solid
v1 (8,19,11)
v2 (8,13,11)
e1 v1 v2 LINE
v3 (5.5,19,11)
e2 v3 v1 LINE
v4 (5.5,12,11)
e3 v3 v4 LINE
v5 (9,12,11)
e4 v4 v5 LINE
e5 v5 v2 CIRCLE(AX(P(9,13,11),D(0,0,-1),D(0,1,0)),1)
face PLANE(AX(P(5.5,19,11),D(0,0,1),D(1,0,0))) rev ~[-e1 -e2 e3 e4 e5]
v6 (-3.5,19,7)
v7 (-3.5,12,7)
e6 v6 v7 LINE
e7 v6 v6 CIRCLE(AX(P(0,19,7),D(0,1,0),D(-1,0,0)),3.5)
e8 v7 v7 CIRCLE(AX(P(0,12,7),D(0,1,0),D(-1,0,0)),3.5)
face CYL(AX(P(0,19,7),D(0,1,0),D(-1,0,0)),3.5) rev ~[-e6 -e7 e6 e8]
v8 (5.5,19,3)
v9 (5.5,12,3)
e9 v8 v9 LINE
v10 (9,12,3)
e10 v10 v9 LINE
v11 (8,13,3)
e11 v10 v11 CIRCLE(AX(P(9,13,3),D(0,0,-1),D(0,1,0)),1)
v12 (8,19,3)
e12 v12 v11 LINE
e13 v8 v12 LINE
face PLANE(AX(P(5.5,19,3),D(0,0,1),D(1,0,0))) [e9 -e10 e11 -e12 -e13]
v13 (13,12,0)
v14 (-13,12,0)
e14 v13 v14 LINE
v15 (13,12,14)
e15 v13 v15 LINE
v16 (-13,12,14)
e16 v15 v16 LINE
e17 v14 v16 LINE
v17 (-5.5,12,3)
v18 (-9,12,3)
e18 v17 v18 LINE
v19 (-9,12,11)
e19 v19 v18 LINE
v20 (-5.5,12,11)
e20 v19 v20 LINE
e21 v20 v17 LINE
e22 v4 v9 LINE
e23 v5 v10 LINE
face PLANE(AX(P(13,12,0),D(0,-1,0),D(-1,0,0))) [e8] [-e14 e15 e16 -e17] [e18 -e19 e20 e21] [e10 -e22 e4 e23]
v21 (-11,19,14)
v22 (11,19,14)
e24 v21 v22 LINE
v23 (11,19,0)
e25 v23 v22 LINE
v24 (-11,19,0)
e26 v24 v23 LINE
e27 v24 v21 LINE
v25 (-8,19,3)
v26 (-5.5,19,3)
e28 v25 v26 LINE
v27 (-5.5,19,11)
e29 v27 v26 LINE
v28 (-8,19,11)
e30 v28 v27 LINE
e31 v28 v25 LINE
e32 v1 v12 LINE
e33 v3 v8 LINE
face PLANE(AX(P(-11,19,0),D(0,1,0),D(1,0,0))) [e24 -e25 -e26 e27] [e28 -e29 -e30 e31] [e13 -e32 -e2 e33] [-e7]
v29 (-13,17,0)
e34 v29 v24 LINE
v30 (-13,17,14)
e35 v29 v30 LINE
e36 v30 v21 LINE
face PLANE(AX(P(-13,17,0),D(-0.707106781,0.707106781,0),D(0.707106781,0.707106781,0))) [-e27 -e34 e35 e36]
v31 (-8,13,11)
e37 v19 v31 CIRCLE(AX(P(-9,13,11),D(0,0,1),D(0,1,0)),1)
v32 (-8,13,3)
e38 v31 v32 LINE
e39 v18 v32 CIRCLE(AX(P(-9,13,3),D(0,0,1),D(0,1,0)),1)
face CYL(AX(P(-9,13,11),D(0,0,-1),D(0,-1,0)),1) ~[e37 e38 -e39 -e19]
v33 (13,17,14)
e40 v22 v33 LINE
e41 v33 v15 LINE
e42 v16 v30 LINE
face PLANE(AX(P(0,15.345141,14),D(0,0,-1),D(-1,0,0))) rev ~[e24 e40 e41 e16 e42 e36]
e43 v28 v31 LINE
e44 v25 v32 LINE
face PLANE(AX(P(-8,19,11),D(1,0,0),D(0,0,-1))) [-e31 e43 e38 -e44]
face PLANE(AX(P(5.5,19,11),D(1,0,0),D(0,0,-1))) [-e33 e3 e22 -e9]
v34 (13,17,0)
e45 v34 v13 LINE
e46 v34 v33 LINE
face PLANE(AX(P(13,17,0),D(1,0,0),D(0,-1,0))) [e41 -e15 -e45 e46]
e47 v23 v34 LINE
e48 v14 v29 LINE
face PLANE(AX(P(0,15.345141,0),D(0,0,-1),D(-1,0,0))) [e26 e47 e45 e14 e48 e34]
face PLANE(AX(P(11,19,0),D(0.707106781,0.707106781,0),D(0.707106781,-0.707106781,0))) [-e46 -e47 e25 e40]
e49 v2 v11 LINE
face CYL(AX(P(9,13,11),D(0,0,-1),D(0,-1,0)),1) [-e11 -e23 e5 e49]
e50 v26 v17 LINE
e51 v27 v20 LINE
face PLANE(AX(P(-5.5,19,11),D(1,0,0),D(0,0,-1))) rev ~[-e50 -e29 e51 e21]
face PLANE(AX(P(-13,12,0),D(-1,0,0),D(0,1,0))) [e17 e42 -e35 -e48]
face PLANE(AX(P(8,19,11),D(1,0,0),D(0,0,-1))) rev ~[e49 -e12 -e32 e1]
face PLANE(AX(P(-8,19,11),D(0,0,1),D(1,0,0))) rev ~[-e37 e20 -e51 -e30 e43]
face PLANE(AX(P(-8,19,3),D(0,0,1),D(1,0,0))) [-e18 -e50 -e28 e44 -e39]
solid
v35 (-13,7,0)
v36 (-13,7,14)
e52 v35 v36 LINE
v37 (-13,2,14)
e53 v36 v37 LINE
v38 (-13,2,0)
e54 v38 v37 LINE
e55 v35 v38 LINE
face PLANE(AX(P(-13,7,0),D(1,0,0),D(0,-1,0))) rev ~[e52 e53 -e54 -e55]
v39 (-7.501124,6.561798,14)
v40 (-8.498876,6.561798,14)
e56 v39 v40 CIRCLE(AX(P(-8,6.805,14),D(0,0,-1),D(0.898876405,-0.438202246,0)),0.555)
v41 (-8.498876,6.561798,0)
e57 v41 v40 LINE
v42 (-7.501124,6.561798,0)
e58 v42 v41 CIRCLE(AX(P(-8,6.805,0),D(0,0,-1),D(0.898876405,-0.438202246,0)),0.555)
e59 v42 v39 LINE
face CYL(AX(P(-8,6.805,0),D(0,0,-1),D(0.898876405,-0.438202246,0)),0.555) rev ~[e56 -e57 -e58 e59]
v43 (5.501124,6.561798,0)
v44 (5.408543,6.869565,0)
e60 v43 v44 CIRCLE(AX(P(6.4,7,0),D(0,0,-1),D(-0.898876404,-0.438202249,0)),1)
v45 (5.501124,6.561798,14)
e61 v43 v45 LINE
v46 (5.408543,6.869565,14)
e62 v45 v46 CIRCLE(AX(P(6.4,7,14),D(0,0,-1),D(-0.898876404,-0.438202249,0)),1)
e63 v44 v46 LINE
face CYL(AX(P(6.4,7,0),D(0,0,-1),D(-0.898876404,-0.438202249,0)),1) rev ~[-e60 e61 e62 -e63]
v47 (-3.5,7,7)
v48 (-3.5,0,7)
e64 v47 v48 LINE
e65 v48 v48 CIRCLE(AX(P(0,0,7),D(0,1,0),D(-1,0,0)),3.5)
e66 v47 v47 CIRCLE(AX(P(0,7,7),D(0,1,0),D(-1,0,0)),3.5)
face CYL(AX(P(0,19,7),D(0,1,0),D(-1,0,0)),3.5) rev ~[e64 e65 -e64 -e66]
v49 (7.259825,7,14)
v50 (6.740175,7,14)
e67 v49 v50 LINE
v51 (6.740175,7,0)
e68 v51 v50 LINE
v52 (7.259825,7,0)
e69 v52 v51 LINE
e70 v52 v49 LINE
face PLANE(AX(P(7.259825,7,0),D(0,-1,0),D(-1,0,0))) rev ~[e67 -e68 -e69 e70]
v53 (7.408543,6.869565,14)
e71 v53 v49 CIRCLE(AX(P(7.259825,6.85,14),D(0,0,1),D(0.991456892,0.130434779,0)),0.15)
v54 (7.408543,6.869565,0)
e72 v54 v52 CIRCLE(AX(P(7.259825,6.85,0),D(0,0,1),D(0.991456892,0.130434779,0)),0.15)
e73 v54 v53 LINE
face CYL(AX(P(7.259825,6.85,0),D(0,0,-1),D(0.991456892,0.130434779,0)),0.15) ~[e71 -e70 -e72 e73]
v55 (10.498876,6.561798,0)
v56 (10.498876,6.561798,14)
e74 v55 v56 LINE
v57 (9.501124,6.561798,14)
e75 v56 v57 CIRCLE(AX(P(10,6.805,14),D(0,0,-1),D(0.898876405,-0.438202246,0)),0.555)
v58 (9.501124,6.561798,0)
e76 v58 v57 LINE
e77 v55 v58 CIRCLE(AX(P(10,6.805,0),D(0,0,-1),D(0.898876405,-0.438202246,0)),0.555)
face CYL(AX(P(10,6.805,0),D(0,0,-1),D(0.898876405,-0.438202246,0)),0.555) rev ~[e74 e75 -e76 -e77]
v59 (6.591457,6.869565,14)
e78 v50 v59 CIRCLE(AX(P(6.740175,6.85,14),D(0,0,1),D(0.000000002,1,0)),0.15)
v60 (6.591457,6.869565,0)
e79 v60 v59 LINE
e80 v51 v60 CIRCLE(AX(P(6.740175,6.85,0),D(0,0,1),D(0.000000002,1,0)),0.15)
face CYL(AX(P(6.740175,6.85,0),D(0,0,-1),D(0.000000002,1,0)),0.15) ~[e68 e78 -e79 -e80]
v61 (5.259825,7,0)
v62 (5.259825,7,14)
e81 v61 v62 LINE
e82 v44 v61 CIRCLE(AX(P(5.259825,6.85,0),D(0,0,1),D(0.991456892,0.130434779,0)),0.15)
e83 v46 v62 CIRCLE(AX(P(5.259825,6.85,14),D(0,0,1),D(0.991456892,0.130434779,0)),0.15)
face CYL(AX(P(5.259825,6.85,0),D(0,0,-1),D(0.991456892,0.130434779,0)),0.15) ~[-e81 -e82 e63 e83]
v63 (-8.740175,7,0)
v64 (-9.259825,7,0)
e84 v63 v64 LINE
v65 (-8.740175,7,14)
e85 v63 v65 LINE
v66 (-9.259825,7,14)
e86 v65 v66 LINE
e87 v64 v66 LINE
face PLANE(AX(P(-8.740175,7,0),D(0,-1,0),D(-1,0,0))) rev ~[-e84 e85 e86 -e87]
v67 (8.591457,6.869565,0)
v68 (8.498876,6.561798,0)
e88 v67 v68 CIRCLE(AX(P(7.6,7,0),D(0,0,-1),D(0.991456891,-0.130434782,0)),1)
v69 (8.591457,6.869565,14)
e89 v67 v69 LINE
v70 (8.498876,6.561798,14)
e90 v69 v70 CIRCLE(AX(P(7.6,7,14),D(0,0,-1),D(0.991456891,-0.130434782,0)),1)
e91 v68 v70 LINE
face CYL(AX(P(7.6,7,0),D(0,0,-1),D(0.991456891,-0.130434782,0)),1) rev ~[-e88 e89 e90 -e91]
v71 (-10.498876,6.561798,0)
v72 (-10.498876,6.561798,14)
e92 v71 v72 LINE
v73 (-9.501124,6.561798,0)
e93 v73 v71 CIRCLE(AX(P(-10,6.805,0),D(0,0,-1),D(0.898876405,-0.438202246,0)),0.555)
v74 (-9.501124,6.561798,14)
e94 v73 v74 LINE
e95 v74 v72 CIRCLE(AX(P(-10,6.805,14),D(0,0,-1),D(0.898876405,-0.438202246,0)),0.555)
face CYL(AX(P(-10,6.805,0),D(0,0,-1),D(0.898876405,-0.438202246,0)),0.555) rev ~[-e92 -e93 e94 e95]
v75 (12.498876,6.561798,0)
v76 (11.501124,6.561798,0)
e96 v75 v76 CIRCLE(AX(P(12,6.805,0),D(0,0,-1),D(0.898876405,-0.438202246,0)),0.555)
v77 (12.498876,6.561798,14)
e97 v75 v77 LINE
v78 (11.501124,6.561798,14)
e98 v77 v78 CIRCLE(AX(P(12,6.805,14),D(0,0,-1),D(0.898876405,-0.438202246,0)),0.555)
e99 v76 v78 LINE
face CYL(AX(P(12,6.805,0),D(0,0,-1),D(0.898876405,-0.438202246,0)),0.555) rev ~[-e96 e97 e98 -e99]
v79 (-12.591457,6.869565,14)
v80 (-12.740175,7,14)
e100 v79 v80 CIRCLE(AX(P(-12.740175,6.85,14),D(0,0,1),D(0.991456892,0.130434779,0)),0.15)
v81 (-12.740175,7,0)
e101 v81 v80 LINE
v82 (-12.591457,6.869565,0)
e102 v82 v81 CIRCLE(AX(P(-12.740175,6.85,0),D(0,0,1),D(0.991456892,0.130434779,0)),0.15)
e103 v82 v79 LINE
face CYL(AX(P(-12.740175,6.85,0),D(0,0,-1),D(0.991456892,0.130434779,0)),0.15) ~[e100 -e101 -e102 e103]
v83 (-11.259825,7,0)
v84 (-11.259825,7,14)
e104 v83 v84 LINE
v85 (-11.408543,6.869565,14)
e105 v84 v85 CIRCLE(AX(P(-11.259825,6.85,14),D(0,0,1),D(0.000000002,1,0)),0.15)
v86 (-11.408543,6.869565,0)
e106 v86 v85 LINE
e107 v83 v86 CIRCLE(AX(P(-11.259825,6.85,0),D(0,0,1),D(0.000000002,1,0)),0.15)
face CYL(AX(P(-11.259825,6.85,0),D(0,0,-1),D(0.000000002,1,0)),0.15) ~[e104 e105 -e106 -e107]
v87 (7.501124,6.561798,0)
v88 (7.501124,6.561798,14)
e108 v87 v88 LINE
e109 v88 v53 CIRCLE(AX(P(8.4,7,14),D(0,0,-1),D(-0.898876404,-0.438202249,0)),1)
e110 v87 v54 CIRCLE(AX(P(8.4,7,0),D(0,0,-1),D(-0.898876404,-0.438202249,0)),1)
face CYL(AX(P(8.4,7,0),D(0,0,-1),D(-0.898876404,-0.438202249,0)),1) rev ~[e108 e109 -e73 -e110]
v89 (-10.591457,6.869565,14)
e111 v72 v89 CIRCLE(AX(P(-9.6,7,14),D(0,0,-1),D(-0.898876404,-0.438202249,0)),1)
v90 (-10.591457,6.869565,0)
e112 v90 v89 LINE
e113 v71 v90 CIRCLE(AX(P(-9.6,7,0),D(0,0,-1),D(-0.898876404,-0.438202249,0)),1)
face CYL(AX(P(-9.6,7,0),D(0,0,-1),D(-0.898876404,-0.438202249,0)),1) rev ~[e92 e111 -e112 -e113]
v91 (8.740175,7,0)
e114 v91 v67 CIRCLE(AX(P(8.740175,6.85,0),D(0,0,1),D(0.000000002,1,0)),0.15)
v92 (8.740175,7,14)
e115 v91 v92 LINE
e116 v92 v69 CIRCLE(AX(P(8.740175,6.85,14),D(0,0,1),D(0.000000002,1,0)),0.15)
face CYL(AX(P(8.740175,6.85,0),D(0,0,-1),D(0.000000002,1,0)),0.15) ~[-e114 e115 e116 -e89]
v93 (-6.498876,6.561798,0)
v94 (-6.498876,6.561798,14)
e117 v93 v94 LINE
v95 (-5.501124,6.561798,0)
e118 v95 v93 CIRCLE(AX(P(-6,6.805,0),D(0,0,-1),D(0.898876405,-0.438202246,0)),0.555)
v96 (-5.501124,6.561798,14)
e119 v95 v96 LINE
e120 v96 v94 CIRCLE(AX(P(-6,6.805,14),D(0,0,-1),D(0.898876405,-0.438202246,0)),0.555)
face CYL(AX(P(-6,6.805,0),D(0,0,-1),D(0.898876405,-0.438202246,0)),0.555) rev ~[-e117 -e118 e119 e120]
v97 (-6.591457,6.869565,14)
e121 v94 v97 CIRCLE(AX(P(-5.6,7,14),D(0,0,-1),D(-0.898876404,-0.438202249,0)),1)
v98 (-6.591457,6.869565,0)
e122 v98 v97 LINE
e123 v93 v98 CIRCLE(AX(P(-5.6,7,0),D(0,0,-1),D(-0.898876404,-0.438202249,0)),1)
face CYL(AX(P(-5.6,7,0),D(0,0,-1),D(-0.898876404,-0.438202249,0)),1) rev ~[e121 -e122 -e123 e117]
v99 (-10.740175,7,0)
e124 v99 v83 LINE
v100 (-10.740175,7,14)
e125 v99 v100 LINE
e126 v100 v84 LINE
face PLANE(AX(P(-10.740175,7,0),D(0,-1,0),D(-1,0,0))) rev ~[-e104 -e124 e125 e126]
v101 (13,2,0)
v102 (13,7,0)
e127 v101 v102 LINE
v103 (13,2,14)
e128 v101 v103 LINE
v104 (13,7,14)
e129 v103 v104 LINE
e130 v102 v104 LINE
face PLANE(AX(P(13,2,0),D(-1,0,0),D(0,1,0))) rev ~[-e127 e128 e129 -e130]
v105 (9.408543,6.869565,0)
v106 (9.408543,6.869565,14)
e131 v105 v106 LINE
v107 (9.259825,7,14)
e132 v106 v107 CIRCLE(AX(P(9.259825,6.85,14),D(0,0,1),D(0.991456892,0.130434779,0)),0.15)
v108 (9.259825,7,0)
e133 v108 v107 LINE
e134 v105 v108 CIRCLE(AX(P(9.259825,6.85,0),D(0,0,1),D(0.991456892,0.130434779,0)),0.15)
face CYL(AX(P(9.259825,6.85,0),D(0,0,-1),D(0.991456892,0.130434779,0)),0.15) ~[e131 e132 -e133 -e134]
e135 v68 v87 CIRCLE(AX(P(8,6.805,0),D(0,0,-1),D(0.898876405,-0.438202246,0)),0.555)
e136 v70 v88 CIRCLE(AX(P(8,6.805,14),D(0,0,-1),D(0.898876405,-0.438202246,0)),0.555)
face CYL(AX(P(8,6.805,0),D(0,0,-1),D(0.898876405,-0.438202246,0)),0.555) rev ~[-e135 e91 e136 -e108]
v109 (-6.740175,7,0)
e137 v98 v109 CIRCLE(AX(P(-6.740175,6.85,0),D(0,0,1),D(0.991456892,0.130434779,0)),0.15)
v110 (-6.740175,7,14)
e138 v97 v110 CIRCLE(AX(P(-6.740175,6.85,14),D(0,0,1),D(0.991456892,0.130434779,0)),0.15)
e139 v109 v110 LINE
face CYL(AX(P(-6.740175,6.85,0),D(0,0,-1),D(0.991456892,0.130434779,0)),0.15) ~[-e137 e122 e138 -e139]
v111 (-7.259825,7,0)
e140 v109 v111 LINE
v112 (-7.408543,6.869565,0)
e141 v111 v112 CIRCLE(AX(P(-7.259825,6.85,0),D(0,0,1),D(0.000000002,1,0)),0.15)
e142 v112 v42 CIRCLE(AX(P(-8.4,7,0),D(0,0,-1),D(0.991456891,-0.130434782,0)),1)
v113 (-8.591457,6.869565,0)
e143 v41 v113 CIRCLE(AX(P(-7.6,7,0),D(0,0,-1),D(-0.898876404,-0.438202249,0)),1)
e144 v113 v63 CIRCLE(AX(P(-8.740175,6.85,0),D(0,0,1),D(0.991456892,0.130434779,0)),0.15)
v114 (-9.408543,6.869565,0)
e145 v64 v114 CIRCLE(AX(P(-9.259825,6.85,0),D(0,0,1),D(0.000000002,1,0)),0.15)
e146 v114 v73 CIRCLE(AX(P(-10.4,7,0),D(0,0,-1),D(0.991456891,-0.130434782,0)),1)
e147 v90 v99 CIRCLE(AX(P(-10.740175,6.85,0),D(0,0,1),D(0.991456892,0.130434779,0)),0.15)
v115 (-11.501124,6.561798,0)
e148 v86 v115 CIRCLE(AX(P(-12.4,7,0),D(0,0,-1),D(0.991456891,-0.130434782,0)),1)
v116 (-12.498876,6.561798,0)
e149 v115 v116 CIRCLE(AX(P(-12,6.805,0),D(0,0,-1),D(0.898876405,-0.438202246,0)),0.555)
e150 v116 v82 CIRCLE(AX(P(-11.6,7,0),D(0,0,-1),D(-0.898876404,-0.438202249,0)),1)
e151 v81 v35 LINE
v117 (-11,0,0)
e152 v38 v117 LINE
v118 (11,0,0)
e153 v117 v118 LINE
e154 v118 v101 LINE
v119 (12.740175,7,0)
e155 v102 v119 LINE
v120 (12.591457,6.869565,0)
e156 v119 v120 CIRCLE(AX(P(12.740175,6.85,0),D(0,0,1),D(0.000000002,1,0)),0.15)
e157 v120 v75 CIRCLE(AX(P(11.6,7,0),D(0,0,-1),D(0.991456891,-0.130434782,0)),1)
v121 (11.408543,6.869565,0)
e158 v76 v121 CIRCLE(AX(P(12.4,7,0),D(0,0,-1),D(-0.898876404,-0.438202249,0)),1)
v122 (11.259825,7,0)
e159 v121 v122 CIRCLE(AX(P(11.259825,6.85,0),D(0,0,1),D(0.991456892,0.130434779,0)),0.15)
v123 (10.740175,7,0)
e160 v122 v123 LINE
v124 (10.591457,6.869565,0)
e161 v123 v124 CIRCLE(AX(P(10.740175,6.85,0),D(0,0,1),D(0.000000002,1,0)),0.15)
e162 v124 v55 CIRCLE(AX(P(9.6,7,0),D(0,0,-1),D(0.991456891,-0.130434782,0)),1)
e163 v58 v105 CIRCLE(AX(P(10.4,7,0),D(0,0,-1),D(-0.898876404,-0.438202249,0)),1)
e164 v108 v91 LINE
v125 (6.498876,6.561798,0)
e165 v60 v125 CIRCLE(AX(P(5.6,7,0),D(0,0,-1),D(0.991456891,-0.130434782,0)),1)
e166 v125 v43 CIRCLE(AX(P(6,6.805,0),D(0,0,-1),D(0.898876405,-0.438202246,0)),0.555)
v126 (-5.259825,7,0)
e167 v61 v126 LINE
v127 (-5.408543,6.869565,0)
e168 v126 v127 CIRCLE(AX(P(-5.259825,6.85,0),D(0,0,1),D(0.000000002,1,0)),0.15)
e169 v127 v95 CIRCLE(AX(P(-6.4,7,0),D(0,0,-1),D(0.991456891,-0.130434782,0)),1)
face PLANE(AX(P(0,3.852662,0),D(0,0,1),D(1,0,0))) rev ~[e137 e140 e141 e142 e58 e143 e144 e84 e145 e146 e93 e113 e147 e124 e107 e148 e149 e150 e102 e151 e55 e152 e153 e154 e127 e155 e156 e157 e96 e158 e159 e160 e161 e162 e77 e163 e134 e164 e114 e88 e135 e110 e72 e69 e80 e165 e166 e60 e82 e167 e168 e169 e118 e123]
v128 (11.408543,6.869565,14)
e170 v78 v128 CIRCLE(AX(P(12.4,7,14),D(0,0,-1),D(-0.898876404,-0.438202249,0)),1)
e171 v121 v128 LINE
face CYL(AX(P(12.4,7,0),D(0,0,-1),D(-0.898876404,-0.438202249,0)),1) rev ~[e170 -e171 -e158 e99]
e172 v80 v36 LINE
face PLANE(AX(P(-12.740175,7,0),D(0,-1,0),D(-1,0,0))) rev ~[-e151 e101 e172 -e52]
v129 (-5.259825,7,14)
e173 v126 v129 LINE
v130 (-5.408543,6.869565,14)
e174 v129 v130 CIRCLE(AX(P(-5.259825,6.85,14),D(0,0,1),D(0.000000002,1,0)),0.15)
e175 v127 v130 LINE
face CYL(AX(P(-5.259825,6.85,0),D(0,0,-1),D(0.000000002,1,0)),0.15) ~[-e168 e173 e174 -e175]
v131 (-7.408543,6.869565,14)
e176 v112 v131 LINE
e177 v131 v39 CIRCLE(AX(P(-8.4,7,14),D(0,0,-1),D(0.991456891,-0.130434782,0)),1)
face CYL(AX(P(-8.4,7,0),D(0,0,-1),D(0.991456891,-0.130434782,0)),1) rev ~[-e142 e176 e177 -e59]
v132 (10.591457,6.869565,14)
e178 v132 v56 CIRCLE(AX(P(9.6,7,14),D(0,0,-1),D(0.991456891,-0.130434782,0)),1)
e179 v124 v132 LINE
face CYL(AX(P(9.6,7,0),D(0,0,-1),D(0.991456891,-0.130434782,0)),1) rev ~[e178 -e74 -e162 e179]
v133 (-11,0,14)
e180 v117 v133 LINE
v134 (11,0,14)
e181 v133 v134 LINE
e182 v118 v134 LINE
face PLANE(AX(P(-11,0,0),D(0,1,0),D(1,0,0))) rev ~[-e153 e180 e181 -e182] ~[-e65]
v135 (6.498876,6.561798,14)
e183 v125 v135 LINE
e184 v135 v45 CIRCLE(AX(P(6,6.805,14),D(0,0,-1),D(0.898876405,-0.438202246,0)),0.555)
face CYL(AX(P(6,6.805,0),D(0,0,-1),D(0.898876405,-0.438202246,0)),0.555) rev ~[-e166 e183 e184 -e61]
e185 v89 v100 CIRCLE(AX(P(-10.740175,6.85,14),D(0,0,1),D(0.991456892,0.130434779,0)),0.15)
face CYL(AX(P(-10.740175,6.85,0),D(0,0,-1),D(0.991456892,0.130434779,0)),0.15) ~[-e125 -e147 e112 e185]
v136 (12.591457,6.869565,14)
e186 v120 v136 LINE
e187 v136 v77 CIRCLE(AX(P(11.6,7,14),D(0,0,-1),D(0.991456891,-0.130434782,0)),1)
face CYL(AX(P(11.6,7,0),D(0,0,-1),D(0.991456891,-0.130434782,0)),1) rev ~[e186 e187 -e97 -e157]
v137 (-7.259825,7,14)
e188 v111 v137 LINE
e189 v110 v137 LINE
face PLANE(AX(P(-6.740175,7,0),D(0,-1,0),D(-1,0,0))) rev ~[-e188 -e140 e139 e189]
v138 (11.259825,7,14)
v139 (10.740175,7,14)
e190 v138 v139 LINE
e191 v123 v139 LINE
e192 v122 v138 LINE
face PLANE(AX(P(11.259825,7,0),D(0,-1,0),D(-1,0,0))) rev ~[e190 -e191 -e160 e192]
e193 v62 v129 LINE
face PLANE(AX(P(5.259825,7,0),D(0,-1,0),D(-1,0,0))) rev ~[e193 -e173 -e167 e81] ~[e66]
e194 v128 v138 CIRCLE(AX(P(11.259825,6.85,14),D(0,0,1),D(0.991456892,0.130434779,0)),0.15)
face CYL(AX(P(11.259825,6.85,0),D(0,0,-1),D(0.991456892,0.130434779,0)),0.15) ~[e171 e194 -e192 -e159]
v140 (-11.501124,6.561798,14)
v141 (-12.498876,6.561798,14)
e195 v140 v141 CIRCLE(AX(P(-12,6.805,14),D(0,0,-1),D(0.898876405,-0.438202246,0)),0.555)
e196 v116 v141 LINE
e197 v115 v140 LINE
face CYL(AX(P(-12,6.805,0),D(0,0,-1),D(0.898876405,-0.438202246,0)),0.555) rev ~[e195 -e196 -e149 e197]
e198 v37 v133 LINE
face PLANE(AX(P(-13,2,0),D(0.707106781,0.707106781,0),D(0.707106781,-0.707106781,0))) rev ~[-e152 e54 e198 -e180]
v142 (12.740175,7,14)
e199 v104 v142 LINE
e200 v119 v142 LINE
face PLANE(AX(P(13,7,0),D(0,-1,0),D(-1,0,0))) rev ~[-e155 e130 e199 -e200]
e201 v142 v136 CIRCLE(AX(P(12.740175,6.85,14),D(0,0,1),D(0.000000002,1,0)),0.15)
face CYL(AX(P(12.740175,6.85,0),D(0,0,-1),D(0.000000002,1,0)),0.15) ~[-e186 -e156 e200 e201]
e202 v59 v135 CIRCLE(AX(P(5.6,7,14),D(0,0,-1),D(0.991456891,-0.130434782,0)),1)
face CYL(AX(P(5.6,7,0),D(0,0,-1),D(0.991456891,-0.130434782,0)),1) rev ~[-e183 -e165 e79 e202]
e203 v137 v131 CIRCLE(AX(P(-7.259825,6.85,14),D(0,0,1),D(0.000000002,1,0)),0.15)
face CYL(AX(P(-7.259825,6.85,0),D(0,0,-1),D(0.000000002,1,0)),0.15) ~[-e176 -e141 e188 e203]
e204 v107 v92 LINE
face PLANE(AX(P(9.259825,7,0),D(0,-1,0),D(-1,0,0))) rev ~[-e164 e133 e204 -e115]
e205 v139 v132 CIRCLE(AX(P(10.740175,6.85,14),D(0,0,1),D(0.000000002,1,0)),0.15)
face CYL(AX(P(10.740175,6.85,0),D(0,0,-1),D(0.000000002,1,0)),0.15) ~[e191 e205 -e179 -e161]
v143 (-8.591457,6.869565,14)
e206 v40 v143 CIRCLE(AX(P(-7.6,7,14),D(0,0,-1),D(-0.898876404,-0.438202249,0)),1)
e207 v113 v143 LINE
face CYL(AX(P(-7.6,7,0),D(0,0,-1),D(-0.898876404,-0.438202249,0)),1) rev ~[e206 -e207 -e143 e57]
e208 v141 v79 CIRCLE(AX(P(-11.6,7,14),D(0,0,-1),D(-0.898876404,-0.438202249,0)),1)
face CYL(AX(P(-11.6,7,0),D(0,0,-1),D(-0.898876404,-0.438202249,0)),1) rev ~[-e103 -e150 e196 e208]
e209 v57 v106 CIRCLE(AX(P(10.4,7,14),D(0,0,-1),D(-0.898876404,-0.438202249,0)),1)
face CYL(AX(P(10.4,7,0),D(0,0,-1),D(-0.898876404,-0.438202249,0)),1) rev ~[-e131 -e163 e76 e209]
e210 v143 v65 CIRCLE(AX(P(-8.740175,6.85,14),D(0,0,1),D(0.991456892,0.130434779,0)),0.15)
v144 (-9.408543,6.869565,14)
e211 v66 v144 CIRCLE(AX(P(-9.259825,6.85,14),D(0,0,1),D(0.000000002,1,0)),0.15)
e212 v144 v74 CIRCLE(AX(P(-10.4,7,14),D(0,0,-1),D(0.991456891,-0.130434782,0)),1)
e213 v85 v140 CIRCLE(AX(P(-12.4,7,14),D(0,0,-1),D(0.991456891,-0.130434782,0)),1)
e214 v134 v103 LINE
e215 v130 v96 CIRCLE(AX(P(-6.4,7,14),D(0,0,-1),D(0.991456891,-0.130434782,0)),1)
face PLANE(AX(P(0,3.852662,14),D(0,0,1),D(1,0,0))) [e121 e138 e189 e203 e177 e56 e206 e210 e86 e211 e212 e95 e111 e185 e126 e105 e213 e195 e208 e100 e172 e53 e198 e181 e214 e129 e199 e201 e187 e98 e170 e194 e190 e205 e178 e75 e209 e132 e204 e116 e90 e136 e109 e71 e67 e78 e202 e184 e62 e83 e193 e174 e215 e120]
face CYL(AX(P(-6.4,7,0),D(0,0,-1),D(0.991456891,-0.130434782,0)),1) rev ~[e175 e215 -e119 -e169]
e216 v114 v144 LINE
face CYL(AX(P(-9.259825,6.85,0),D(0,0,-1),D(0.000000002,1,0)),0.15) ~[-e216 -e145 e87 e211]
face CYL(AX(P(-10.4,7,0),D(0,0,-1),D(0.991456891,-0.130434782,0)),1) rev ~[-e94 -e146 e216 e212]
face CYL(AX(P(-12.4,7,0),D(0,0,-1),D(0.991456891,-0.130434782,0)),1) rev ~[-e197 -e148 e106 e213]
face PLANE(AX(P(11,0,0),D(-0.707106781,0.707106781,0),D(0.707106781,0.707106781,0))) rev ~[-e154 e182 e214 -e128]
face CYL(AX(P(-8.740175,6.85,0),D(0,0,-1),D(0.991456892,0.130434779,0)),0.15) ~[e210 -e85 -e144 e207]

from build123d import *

# Parameters (mm, degrees)
SALIENTE_EXTRUIR1_DEPTH   = 14
SALIENTE_EXTRUIR1_2_DEPTH = 14
CROQUIS2_R                = 3.5
CORTAR_EXTRUIR1_DEPTH     = 27.944387171
CROQUIS3_W                = 2.5
CROQUIS3_H                = 8
CORTAR_EXTRUIR2_DEPTH     = 7
REDONDEO1_R               = 1


with BuildPart() as part:
    # Croquis1 → Saliente-Extruir1 (new body)
    with BuildSketch(Plane.XY):
        with BuildLine():
            Line((7.259824575, 7), (6.740175425, 7))
            ThreePointArc((6.740175425, 7), (6.641268354, 6.962771412), (6.591456891, 6.869565217))
            ThreePointArc((6.591456891, 6.869565217), (6.557611714, 6.711937846), (6.498876404, 6.561797753))
            ThreePointArc((6.498876404, 6.561797753), (6, 6.25), (5.501123596, 6.561797753))
            ThreePointArc((5.501123596, 6.561797753), (5.442388286, 6.711937846), (5.408543109, 6.869565217))
            ThreePointArc((5.408543109, 6.869565217), (5.358731646, 6.962771412), (5.259824575, 7))
            Line((5.259824575, 7), (5, 7))
            Line((5, 7), (-5, 7))
            Line((-5, 7), (-5.259824575, 7))
            ThreePointArc((-5.259824575, 7), (-5.358731646, 6.962771412), (-5.408543109, 6.869565217))
            ThreePointArc((-5.408543109, 6.869565217), (-5.442388286, 6.711937846), (-5.501123596, 6.561797753))
            ThreePointArc((-5.501123596, 6.561797753), (-6, 6.25), (-6.498876404, 6.561797753))
            ThreePointArc((-6.498876404, 6.561797753), (-6.557611714, 6.711937846), (-6.591456891, 6.869565217))
            ThreePointArc((-6.591456891, 6.869565217), (-6.641268354, 6.962771412), (-6.740175425, 7))
            Line((-6.740175425, 7), (-7.259824575, 7))
            ThreePointArc((-7.259824575, 7), (-7.358731646, 6.962771412), (-7.408543109, 6.869565217))
            ThreePointArc((-7.408543109, 6.869565217), (-7.442388286, 6.711937846), (-7.501123596, 6.561797753))
            ThreePointArc((-7.501123596, 6.561797753), (-8, 6.25), (-8.498876404, 6.561797753))
            ThreePointArc((-8.498876404, 6.561797753), (-8.557611714, 6.711937846), (-8.591456891, 6.869565217))
            ThreePointArc((-8.591456891, 6.869565217), (-8.641268354, 6.962771412), (-8.740175425, 7))
            Line((-8.740175425, 7), (-9, 7))
            Line((-9, 7), (-9.259824575, 7))
            ThreePointArc((-9.259824575, 7), (-9.358731646, 6.962771412), (-9.408543109, 6.869565217))
            ThreePointArc((-9.408543109, 6.869565217), (-9.442388286, 6.711937846), (-9.501123596, 6.561797753))
            ThreePointArc((-9.501123596, 6.561797753), (-10, 6.25), (-10.498876404, 6.561797753))
            ThreePointArc((-10.498876404, 6.561797753), (-10.557611714, 6.711937846), (-10.591456891, 6.869565217))
            ThreePointArc((-10.591456891, 6.869565217), (-10.641268354, 6.962771412), (-10.740175425, 7))
            Line((-10.740175425, 7), (-11.259824575, 7))
            ThreePointArc((-11.259824575, 7), (-11.358731646, 6.962771412), (-11.408543109, 6.869565217))
            ThreePointArc((-11.408543109, 6.869565217), (-11.442388286, 6.711937846), (-11.501123596, 6.561797753))
            ThreePointArc((-11.501123596, 6.561797753), (-12, 6.25), (-12.498876404, 6.561797753))
            ThreePointArc((-12.498876404, 6.561797753), (-12.557611714, 6.711937846), (-12.591456891, 6.869565217))
            ThreePointArc((-12.591456891, 6.869565217), (-12.641268354, 6.962771412), (-12.740175425, 7))
            Line((-12.740175425, 7), (-13, 7))
            Line((-13, 7), (-13, 2))
            Line((-13, 2), (-11, 0))
            Line((-11, 0), (11, 0))
            Line((11, 0), (13, 2))
            Line((13, 2), (13, 7))
            Line((13, 7), (12.740175425, 7))
            ThreePointArc((12.740175425, 7), (12.641268354, 6.962771412), (12.591456891, 6.869565217))
            ThreePointArc((12.591456891, 6.869565217), (12.557611714, 6.711937846), (12.498876404, 6.561797753))
            ThreePointArc((12.498876404, 6.561797753), (12, 6.25), (11.501123596, 6.561797753))
            ThreePointArc((11.501123596, 6.561797753), (11.442388286, 6.711937846), (11.408543109, 6.869565217))
            ThreePointArc((11.408543109, 6.869565217), (11.358731646, 6.962771412), (11.259824575, 7))
            Line((11.259824575, 7), (10.740175425, 7))
            ThreePointArc((10.740175425, 7), (10.641268354, 6.962771412), (10.591456891, 6.869565217))
            ThreePointArc((10.591456891, 6.869565217), (10.557611714, 6.711937846), (10.498876404, 6.561797753))
            ThreePointArc((10.498876404, 6.561797753), (10, 6.25), (9.501123596, 6.561797753))
            ThreePointArc((9.501123596, 6.561797753), (9.442388286, 6.711937846), (9.408543109, 6.869565217))
            ThreePointArc((9.408543109, 6.869565217), (9.358731646, 6.962771412), (9.259824575, 7))
            Line((9.259824575, 7), (9, 7))
            Line((9, 7), (8.740175425, 7))
            ThreePointArc((8.740175425, 7), (8.641268354, 6.962771412), (8.591456891, 6.869565217))
            ThreePointArc((8.591456891, 6.869565217), (8.557611714, 6.711937846), (8.498876404, 6.561797753))
            ThreePointArc((8.498876404, 6.561797753), (8, 6.25), (7.501123596, 6.561797753))
            ThreePointArc((7.501123596, 6.561797753), (7.442388286, 6.711937846), (7.408543109, 6.869565217))
            ThreePointArc((7.408543109, 6.869565217), (7.358731646, 6.962771412), (7.259824575, 7))
        make_face()
    extrude(amount=SALIENTE_EXTRUIR1_DEPTH)


with BuildPart() as body_2:
    # Croquis1 → Saliente-Extruir1 2 (new body)
    with BuildSketch(Plane.XY):
        Polygon((13, 17), (13, 12), (-13, 12), (-13, 17), (-11, 19), (11, 19), align=None)
    extrude(amount=SALIENTE_EXTRUIR1_2_DEPTH)


with BuildPart() as cortar_extruir1_tool:
    # Croquis2 → Cortar-Extruir1 (new, through all)
    with BuildSketch(Plane(origin=(0, 19, 0), x_dir=(1, 0, 0), z_dir=(0, 1, 0))):
        with Locations(Location((0, -7, 0), (0, 0, 180))):
            Circle(CROQUIS2_R)
    extrude(amount=-CORTAR_EXTRUIR1_DEPTH)


with BuildPart() as part_1:
    add(part.part)

    # Cortar-Extruir1: cut by cortar_extruir1_tool
    add(cortar_extruir1_tool.part, mode=Mode.SUBTRACT)


with BuildPart() as body_2_1:
    add(body_2.part)

    # Cortar-Extruir1: cut by cortar_extruir1_tool
    add(cortar_extruir1_tool.part, mode=Mode.SUBTRACT)

    # Croquis3 → Cortar-Extruir2 (cut)
    with BuildSketch(Plane(origin=(0, 19, 0), x_dir=(1, 0, 0), z_dir=(0, 1, 0))):
        with Locations((-6.75, -7)):
            Rectangle(CROQUIS3_W, CROQUIS3_H)
        with Locations((6.75, -7)):
            Rectangle(CROQUIS3_W, CROQUIS3_H)
    extrude(amount=-CORTAR_EXTRUIR2_DEPTH, mode=Mode.SUBTRACT)

    # Redondeo1
    redondeo1_edges = [body_2_1.edges().sort_by_distance(p)[0] for p in [
        (-8, 12, 7),
        (8, 12, 7),
    ]]
    fillet(redondeo1_edges, radius=REDONDEO1_R)


solid = Compound([part_1.part, body_2_1.part])
